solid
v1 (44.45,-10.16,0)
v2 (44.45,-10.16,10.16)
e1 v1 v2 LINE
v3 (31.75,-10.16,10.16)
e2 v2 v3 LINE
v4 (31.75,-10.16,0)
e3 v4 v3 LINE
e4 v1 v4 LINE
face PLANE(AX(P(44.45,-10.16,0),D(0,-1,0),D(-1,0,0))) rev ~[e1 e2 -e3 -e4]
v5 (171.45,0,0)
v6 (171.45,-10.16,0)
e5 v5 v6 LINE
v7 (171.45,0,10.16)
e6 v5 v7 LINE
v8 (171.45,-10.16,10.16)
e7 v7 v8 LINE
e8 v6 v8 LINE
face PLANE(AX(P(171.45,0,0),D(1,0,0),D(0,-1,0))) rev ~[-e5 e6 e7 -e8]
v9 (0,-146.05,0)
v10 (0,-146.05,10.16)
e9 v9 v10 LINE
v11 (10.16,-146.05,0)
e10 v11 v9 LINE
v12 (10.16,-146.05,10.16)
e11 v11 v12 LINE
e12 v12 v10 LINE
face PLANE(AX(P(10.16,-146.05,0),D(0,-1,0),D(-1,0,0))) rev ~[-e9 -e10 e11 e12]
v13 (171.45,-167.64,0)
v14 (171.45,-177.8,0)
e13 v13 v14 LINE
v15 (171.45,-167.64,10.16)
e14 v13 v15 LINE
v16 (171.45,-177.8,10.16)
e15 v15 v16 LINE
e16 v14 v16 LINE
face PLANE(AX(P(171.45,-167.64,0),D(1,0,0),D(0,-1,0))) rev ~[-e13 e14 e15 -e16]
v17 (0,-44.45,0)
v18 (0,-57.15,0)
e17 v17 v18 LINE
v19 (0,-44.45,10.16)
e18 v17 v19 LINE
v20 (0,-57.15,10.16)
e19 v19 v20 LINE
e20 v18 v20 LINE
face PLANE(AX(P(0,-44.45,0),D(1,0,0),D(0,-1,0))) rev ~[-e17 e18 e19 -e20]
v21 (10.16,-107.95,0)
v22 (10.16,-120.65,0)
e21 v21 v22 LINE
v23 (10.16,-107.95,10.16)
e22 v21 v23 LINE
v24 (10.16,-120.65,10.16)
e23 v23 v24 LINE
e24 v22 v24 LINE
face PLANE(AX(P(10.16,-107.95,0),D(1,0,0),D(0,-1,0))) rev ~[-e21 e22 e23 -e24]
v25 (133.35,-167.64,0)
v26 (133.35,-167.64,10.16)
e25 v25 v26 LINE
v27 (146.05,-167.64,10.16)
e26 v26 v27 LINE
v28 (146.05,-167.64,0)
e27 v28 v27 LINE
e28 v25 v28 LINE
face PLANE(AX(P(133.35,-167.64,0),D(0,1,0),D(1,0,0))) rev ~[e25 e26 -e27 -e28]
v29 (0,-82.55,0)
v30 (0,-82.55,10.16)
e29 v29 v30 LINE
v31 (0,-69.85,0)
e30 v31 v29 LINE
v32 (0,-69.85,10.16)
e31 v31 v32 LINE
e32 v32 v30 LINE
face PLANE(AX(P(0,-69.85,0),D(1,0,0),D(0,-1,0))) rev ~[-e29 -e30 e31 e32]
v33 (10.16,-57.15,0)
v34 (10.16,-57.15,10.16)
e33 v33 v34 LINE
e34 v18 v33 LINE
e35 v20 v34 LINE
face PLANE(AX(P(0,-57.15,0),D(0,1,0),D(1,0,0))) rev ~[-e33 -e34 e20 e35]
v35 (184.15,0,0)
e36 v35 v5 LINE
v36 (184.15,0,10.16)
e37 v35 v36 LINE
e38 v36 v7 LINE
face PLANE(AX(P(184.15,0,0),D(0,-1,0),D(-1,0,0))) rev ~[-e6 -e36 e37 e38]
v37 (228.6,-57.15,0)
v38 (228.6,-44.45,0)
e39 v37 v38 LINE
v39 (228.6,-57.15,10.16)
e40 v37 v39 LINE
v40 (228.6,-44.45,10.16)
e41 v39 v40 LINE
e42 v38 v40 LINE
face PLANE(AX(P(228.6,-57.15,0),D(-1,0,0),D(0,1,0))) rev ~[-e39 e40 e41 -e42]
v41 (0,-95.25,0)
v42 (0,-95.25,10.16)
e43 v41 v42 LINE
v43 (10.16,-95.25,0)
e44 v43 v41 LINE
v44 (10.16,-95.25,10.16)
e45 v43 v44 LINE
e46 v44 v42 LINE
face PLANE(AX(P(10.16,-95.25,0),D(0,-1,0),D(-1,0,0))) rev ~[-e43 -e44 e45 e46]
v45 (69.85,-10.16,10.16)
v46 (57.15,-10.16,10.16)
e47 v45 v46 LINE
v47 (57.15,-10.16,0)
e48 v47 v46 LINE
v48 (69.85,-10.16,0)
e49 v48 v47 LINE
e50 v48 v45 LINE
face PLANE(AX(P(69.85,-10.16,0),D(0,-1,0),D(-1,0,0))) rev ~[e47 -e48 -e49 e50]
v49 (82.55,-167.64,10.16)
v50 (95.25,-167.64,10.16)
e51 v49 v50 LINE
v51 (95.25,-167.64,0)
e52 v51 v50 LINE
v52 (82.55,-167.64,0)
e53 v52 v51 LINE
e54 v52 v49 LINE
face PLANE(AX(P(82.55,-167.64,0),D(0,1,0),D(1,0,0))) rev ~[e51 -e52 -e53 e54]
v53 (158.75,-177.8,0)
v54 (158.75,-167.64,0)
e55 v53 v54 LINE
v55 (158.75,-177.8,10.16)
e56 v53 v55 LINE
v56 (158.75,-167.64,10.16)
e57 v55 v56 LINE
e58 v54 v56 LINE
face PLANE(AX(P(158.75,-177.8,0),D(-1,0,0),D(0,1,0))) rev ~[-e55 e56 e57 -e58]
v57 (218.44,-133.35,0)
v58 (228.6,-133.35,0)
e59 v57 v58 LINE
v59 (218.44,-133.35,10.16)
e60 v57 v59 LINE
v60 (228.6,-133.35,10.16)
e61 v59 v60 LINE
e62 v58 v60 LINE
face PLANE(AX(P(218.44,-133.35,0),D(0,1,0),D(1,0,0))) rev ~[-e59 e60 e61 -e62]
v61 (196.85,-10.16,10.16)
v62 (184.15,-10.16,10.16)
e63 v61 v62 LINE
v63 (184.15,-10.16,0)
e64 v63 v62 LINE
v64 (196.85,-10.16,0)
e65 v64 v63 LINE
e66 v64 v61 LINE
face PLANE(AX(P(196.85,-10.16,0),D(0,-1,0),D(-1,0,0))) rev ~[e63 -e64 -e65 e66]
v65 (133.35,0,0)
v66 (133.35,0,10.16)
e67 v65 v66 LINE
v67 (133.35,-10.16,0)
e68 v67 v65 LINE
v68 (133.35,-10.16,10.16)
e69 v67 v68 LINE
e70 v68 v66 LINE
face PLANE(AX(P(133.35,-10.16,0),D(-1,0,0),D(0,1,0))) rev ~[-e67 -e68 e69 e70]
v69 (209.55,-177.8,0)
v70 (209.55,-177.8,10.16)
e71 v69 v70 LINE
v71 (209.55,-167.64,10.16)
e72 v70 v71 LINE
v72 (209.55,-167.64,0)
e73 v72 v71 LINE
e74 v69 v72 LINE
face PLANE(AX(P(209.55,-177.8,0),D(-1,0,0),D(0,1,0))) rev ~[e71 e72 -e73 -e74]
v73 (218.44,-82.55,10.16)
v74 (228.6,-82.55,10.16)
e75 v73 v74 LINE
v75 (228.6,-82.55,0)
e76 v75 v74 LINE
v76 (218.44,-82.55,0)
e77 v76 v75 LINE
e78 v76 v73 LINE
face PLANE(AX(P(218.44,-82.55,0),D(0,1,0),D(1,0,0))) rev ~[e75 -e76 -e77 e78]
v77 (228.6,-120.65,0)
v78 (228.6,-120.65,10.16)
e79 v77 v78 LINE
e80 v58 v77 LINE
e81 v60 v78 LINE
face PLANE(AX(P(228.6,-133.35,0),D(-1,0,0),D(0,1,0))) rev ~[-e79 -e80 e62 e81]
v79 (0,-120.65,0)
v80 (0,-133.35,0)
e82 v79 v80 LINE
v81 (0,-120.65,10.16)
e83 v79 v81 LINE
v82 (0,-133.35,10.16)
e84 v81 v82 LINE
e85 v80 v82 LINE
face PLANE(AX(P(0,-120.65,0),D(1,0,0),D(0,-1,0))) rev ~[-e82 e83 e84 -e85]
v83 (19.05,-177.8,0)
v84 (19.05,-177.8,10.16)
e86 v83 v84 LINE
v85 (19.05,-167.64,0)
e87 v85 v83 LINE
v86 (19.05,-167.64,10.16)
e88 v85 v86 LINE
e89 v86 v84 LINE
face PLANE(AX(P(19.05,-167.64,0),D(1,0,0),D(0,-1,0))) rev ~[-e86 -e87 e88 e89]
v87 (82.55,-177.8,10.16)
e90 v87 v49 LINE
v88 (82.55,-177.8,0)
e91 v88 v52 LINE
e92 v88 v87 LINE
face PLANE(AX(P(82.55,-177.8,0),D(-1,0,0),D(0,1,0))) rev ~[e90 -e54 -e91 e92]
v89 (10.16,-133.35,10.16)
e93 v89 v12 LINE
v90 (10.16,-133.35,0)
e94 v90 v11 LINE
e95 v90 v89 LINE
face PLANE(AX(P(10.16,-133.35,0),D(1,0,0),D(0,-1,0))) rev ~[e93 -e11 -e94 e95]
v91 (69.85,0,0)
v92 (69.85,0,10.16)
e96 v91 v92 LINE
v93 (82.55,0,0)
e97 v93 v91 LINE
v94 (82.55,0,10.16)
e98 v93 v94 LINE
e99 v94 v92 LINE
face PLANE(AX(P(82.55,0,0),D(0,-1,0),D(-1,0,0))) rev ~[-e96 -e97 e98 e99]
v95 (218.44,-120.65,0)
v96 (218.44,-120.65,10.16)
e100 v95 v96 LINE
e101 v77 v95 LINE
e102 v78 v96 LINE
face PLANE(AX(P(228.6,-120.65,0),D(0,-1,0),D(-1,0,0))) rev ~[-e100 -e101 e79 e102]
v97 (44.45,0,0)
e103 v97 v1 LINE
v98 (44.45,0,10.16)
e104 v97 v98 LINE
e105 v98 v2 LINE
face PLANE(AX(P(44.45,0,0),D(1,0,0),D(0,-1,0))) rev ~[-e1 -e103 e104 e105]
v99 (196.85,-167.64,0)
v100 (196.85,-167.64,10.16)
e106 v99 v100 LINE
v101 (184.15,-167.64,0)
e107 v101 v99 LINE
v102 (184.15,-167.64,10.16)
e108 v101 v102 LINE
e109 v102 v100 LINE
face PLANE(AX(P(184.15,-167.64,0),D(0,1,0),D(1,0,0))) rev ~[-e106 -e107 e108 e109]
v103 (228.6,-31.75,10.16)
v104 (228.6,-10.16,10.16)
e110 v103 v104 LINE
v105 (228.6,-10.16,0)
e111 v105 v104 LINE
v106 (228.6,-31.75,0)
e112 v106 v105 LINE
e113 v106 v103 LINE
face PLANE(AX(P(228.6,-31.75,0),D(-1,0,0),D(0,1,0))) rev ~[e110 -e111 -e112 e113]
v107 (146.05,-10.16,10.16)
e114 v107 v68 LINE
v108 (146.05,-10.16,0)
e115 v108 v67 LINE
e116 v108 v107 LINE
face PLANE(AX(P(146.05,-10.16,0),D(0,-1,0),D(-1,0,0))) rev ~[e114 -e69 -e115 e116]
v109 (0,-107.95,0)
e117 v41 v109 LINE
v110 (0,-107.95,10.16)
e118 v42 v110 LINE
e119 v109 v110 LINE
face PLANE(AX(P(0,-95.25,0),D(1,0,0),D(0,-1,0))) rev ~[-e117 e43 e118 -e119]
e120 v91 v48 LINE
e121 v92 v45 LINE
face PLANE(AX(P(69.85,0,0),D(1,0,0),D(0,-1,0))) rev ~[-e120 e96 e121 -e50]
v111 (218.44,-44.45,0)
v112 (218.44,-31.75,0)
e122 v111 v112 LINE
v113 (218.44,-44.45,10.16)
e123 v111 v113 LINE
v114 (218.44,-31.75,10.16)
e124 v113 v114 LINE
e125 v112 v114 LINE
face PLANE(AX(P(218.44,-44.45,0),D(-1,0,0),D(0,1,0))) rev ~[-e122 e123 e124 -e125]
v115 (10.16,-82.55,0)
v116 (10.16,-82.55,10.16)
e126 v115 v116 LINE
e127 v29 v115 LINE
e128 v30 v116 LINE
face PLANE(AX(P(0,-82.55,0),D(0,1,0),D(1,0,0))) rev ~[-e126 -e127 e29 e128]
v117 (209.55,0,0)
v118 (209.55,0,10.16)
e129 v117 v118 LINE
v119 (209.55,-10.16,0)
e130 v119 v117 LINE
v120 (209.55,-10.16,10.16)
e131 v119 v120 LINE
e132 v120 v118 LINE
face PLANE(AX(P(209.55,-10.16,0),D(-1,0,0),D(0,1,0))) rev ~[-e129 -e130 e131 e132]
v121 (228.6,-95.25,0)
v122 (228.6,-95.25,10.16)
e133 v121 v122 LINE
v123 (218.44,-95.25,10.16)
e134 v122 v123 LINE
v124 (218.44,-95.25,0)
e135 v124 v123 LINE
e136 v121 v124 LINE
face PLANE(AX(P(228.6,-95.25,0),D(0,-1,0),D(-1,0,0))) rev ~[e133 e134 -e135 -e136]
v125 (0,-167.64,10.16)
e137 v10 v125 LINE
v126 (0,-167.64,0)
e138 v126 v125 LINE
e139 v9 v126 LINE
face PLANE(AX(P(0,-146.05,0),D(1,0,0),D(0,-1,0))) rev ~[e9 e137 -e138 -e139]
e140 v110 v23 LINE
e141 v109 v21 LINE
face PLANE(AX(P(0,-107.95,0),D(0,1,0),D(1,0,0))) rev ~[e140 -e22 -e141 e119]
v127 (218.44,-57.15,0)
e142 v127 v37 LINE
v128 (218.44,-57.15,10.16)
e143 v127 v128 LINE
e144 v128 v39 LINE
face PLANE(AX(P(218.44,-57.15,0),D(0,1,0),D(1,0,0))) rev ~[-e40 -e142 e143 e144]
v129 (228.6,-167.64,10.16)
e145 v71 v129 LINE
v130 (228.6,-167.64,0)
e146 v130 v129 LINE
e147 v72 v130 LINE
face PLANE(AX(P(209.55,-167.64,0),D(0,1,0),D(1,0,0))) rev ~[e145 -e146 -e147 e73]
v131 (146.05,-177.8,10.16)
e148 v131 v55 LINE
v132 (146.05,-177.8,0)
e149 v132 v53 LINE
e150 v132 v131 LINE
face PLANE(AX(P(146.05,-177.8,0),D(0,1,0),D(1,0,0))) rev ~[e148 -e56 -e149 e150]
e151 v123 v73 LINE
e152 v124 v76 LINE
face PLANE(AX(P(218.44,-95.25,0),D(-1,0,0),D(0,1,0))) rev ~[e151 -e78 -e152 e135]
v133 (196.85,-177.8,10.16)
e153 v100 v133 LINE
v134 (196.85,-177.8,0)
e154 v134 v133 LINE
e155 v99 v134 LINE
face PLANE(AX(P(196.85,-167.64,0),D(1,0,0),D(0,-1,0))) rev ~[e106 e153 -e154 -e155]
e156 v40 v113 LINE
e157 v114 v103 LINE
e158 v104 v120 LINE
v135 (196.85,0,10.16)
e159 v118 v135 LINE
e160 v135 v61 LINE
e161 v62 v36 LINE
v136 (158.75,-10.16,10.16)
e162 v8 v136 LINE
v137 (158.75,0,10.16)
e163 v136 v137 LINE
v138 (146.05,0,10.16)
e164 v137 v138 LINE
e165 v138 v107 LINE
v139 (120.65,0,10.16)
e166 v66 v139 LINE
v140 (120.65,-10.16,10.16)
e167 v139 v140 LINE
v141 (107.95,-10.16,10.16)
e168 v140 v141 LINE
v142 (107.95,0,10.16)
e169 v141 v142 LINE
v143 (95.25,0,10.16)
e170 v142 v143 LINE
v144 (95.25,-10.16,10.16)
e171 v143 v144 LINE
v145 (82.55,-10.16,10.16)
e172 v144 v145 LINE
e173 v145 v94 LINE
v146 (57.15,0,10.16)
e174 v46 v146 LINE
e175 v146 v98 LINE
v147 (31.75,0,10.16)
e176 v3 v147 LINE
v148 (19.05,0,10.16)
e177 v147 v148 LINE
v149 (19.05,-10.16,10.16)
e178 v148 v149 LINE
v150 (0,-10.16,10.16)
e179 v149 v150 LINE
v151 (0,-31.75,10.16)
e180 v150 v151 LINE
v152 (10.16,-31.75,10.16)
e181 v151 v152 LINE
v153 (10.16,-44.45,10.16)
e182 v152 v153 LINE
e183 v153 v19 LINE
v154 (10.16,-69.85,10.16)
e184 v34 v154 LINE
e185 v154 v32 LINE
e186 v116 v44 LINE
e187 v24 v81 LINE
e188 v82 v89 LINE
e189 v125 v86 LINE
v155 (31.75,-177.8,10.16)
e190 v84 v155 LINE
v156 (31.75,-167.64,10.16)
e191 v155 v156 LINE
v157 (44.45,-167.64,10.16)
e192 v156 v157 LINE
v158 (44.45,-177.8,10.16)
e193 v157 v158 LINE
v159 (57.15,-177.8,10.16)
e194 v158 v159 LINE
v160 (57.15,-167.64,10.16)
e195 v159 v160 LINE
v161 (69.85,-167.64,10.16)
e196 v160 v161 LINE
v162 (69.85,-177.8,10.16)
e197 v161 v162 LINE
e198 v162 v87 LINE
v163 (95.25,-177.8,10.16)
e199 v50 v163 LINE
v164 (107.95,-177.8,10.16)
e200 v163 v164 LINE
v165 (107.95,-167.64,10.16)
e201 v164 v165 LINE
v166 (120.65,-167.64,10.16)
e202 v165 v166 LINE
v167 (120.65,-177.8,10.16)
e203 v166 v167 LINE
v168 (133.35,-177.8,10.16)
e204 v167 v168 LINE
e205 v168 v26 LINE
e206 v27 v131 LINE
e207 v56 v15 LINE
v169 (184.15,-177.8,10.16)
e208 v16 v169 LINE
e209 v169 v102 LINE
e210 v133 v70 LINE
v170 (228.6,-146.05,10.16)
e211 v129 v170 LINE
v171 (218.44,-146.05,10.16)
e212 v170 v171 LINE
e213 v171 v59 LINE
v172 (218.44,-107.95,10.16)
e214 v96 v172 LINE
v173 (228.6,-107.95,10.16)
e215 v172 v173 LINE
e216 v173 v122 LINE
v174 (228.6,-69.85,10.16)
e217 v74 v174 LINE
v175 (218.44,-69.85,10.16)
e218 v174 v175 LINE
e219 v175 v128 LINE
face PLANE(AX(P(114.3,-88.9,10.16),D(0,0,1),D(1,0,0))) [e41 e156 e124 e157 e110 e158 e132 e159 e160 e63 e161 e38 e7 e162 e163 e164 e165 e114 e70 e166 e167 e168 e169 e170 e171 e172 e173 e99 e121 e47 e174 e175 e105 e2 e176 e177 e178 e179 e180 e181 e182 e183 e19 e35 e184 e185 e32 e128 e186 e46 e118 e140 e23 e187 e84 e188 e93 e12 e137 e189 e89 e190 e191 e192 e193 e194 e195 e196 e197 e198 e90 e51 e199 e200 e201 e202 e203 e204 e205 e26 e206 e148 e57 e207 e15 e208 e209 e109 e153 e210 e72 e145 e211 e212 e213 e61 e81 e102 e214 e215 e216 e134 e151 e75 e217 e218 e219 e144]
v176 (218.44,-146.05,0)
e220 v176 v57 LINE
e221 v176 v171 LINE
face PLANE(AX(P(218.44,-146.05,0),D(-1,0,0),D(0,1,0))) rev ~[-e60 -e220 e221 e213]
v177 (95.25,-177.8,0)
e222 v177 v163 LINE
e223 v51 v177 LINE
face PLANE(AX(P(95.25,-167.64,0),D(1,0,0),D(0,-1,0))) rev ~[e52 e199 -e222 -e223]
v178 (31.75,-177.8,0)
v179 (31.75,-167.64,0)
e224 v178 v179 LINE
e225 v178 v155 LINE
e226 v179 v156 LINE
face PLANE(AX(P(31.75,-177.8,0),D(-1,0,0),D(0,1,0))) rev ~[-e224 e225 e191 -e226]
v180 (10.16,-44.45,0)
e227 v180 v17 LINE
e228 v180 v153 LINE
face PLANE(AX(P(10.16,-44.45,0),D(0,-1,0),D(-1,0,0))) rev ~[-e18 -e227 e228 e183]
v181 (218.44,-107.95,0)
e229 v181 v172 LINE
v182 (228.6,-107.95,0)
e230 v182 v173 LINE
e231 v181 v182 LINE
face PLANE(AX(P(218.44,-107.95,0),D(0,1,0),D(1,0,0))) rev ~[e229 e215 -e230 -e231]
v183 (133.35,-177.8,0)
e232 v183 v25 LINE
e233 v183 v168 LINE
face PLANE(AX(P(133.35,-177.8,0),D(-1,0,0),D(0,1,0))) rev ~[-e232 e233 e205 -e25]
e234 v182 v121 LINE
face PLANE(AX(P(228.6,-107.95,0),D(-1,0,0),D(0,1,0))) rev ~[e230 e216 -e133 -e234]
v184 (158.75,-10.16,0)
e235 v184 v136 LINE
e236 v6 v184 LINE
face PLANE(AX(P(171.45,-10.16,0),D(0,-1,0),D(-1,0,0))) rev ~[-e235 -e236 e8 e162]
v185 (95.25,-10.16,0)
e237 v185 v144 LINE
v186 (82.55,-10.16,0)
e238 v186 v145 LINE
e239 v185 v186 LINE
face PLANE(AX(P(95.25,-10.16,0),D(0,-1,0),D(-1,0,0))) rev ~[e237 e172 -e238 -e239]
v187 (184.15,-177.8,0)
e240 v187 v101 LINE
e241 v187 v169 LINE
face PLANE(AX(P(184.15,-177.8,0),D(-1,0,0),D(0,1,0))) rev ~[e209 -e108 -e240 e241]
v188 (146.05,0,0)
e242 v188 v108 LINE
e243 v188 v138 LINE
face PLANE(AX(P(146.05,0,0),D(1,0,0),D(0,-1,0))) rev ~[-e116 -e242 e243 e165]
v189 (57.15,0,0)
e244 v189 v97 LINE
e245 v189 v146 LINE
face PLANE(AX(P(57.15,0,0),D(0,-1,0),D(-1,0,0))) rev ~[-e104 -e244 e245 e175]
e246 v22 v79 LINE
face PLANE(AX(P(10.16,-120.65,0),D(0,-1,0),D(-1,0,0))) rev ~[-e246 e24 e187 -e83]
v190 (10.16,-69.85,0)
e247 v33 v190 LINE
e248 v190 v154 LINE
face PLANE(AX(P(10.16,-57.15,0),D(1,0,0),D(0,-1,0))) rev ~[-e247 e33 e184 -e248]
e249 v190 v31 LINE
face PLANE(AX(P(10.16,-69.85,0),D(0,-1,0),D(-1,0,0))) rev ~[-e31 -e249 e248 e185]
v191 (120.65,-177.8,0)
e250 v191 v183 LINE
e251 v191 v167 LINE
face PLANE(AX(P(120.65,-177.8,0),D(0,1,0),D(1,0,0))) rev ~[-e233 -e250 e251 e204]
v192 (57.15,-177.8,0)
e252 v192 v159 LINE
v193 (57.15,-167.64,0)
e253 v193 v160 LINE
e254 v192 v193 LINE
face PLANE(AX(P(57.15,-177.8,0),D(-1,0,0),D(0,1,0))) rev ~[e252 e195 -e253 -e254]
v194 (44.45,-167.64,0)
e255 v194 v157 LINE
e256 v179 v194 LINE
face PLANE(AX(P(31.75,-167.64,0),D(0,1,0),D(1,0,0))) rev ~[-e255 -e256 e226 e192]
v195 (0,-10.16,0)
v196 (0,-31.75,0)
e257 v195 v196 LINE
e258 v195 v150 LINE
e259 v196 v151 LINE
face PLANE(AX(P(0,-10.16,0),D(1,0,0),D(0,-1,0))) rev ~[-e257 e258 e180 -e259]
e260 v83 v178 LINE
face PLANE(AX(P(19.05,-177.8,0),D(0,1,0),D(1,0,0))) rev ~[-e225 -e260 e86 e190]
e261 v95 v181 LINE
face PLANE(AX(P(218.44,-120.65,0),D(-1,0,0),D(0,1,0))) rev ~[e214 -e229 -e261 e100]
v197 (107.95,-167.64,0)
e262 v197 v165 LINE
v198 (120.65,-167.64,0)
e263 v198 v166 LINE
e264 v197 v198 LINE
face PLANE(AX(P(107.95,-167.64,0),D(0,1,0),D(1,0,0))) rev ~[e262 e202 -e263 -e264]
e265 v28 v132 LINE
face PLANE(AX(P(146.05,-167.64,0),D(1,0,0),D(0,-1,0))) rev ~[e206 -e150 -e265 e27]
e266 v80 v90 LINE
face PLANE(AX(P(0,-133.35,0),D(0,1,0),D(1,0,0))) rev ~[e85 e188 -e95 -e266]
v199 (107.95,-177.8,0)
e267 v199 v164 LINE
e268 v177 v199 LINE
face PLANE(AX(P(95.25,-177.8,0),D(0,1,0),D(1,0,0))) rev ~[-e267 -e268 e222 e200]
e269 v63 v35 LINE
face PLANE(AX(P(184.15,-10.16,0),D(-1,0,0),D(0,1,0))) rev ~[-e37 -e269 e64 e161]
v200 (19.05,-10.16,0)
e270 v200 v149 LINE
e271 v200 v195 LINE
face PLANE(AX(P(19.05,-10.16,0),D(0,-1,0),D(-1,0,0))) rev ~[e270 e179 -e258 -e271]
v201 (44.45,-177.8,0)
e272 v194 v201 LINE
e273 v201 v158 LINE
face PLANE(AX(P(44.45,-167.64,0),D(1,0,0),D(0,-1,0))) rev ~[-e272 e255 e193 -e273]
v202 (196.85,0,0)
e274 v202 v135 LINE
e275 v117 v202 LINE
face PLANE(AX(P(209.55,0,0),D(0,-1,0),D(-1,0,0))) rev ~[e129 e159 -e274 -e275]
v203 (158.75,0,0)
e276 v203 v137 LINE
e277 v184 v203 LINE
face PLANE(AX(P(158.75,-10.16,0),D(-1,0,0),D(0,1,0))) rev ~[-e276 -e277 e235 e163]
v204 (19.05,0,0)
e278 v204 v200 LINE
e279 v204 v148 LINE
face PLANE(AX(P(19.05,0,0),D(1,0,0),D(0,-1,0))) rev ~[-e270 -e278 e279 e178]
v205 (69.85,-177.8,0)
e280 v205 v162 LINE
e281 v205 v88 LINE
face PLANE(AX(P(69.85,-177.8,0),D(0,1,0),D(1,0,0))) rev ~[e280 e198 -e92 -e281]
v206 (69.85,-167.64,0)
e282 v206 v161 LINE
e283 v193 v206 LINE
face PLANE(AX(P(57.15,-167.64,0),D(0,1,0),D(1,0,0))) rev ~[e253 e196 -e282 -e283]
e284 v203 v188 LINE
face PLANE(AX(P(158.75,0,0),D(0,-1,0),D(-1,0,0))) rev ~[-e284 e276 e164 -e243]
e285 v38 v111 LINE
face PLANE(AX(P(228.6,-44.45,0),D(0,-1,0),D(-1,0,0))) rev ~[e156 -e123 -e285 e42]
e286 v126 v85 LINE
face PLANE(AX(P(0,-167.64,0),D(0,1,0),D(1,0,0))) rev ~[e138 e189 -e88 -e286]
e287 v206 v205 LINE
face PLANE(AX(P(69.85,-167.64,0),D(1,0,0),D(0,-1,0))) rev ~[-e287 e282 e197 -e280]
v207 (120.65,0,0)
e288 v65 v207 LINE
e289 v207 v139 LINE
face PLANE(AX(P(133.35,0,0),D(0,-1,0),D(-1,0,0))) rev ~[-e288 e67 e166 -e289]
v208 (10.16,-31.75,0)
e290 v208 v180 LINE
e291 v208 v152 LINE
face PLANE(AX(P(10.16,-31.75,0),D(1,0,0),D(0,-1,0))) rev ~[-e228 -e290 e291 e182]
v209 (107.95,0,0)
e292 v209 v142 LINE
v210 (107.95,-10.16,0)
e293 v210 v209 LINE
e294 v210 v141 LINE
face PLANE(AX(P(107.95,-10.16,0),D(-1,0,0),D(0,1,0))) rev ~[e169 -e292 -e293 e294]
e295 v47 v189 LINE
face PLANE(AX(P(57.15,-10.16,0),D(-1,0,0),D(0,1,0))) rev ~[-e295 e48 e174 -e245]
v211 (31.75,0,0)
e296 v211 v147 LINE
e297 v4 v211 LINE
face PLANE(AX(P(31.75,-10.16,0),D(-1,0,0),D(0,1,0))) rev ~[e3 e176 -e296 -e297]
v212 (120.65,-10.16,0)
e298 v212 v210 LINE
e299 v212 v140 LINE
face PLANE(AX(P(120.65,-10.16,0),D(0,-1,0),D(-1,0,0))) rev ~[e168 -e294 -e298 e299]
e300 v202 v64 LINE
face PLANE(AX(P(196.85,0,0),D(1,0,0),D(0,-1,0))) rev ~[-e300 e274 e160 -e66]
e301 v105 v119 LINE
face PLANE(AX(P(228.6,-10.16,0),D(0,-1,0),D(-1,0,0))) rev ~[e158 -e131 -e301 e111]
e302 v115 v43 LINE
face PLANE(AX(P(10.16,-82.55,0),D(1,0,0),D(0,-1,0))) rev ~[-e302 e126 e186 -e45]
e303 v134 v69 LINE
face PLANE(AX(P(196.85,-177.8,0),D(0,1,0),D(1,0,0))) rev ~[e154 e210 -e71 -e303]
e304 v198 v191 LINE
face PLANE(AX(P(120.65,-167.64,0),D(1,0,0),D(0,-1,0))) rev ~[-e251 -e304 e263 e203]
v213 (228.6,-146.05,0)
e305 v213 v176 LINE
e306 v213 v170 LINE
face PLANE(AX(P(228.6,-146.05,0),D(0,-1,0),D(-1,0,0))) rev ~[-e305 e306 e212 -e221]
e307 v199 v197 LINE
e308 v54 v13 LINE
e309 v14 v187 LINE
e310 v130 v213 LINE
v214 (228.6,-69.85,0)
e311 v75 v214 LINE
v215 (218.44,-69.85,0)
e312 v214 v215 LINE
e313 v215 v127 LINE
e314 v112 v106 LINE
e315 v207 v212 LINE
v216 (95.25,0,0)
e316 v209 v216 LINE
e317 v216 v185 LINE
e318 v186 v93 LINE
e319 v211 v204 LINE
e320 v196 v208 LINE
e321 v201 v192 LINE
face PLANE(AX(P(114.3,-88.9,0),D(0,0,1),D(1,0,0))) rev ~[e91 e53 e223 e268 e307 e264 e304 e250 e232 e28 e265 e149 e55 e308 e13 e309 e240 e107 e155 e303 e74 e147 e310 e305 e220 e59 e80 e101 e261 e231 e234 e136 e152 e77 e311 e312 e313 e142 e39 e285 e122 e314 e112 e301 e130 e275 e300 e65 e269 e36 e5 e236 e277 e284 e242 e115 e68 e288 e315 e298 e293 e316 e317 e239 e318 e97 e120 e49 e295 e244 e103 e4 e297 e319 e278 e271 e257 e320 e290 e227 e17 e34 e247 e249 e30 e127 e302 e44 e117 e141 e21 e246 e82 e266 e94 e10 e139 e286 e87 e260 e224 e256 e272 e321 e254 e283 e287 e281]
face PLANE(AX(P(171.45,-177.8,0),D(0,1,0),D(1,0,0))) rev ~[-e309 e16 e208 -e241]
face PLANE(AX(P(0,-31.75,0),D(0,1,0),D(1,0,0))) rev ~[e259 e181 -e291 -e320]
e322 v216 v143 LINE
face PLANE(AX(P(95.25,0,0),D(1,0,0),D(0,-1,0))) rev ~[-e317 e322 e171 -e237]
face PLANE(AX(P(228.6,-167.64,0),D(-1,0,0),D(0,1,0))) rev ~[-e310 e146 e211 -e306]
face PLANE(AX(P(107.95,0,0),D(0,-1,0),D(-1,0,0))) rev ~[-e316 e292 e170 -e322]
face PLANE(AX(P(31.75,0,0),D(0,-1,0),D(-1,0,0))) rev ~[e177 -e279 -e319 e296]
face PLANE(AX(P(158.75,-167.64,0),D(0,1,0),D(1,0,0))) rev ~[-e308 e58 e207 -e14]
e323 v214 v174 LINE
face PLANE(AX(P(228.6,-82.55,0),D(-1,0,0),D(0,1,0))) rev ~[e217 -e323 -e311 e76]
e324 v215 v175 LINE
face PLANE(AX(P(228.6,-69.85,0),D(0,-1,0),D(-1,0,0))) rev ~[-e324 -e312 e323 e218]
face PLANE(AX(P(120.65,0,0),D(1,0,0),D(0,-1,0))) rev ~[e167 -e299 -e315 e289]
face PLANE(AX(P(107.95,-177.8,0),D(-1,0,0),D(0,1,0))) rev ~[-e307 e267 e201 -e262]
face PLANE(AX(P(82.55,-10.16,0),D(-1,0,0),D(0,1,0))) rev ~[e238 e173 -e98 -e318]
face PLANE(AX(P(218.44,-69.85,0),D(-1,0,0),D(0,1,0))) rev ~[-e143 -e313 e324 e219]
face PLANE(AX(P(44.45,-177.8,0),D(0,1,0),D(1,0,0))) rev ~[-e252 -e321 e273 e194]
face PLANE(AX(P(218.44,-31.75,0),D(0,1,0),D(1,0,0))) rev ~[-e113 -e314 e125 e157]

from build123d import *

# Parameters (mm, degrees)
F1_DEPTH = 10.16


with BuildPart() as f1:
    # F0 (on Top) → F1 (new body)
    with BuildSketch(Plane.XY):
        Polygon((31.75, 0), (19.05, 0), (19.05, -10.16), (0, -10.16), (0, -31.75), (10.16, -31.75), (10.16, -44.45), (0, -44.45), (0, -57.15), (10.16, -57.15), (10.16, -69.85), (0, -69.85), (0, -82.55), (10.16, -82.55), (10.16, -95.25), (0, -95.25), (0, -107.95), (10.16, -107.95), (10.16, -120.65), (0, -120.65), (0, -133.35), (10.16, -133.35), (10.16, -146.05), (0, -146.05), (0, -167.64), (19.05, -167.64), (19.05, -177.8), (31.75, -177.8), (31.75, -167.64), (44.45, -167.64), (44.45, -177.8), (57.15, -177.8), (57.15, -167.64), (69.85, -167.64), (69.85, -177.8), (82.55, -177.8), (82.55, -167.64), (95.25, -167.64), (95.25, -177.8), (107.95, -177.8), (107.95, -167.64), (120.65, -167.64), (120.65, -177.8), (133.35, -177.8), (133.35, -167.64), (146.05, -167.64), (146.05, -177.8), (158.75, -177.8), (158.75, -167.64), (171.45, -167.64), (171.45, -177.8), (184.15, -177.8), (184.15, -167.64), (196.85, -167.64), (196.85, -177.8), (209.55, -177.8), (209.55, -167.64), (228.6, -167.64), (228.6, -146.05), (218.44, -146.05), (218.44, -133.35), (228.6, -133.35), (228.6, -120.65), (218.44, -120.65), (218.44, -107.95), (228.6, -107.95), (228.6, -95.25), (218.44, -95.25), (218.44, -82.55), (228.6, -82.55), (228.6, -69.85), (218.44, -69.85), (218.44, -57.15), (228.6, -57.15), (228.6, -44.45), (218.44, -44.45), (218.44, -31.75), (228.6, -31.75), (228.6, -10.16), (209.55, -10.16), (209.55, 0), (196.85, 0), (196.85, -10.16), (184.15, -10.16), (184.15, 0), (171.45, 0), (171.45, -10.16), (158.75, -10.16), (158.75, 0), (146.05, 0), (146.05, -10.16), (133.35, -10.16), (133.35, 0), (120.65, 0), (120.65, -10.16), (107.95, -10.16), (107.95, 0), (95.25, 0), (95.25, -10.16), (82.55, -10.16), (82.55, 0), (69.85, 0), (69.85, -10.16), (57.15, -10.16), (57.15, 0), (44.45, 0), (44.45, -10.16), (31.75, -10.16), align=None)
    extrude(amount=F1_DEPTH)


solid = f1.part
